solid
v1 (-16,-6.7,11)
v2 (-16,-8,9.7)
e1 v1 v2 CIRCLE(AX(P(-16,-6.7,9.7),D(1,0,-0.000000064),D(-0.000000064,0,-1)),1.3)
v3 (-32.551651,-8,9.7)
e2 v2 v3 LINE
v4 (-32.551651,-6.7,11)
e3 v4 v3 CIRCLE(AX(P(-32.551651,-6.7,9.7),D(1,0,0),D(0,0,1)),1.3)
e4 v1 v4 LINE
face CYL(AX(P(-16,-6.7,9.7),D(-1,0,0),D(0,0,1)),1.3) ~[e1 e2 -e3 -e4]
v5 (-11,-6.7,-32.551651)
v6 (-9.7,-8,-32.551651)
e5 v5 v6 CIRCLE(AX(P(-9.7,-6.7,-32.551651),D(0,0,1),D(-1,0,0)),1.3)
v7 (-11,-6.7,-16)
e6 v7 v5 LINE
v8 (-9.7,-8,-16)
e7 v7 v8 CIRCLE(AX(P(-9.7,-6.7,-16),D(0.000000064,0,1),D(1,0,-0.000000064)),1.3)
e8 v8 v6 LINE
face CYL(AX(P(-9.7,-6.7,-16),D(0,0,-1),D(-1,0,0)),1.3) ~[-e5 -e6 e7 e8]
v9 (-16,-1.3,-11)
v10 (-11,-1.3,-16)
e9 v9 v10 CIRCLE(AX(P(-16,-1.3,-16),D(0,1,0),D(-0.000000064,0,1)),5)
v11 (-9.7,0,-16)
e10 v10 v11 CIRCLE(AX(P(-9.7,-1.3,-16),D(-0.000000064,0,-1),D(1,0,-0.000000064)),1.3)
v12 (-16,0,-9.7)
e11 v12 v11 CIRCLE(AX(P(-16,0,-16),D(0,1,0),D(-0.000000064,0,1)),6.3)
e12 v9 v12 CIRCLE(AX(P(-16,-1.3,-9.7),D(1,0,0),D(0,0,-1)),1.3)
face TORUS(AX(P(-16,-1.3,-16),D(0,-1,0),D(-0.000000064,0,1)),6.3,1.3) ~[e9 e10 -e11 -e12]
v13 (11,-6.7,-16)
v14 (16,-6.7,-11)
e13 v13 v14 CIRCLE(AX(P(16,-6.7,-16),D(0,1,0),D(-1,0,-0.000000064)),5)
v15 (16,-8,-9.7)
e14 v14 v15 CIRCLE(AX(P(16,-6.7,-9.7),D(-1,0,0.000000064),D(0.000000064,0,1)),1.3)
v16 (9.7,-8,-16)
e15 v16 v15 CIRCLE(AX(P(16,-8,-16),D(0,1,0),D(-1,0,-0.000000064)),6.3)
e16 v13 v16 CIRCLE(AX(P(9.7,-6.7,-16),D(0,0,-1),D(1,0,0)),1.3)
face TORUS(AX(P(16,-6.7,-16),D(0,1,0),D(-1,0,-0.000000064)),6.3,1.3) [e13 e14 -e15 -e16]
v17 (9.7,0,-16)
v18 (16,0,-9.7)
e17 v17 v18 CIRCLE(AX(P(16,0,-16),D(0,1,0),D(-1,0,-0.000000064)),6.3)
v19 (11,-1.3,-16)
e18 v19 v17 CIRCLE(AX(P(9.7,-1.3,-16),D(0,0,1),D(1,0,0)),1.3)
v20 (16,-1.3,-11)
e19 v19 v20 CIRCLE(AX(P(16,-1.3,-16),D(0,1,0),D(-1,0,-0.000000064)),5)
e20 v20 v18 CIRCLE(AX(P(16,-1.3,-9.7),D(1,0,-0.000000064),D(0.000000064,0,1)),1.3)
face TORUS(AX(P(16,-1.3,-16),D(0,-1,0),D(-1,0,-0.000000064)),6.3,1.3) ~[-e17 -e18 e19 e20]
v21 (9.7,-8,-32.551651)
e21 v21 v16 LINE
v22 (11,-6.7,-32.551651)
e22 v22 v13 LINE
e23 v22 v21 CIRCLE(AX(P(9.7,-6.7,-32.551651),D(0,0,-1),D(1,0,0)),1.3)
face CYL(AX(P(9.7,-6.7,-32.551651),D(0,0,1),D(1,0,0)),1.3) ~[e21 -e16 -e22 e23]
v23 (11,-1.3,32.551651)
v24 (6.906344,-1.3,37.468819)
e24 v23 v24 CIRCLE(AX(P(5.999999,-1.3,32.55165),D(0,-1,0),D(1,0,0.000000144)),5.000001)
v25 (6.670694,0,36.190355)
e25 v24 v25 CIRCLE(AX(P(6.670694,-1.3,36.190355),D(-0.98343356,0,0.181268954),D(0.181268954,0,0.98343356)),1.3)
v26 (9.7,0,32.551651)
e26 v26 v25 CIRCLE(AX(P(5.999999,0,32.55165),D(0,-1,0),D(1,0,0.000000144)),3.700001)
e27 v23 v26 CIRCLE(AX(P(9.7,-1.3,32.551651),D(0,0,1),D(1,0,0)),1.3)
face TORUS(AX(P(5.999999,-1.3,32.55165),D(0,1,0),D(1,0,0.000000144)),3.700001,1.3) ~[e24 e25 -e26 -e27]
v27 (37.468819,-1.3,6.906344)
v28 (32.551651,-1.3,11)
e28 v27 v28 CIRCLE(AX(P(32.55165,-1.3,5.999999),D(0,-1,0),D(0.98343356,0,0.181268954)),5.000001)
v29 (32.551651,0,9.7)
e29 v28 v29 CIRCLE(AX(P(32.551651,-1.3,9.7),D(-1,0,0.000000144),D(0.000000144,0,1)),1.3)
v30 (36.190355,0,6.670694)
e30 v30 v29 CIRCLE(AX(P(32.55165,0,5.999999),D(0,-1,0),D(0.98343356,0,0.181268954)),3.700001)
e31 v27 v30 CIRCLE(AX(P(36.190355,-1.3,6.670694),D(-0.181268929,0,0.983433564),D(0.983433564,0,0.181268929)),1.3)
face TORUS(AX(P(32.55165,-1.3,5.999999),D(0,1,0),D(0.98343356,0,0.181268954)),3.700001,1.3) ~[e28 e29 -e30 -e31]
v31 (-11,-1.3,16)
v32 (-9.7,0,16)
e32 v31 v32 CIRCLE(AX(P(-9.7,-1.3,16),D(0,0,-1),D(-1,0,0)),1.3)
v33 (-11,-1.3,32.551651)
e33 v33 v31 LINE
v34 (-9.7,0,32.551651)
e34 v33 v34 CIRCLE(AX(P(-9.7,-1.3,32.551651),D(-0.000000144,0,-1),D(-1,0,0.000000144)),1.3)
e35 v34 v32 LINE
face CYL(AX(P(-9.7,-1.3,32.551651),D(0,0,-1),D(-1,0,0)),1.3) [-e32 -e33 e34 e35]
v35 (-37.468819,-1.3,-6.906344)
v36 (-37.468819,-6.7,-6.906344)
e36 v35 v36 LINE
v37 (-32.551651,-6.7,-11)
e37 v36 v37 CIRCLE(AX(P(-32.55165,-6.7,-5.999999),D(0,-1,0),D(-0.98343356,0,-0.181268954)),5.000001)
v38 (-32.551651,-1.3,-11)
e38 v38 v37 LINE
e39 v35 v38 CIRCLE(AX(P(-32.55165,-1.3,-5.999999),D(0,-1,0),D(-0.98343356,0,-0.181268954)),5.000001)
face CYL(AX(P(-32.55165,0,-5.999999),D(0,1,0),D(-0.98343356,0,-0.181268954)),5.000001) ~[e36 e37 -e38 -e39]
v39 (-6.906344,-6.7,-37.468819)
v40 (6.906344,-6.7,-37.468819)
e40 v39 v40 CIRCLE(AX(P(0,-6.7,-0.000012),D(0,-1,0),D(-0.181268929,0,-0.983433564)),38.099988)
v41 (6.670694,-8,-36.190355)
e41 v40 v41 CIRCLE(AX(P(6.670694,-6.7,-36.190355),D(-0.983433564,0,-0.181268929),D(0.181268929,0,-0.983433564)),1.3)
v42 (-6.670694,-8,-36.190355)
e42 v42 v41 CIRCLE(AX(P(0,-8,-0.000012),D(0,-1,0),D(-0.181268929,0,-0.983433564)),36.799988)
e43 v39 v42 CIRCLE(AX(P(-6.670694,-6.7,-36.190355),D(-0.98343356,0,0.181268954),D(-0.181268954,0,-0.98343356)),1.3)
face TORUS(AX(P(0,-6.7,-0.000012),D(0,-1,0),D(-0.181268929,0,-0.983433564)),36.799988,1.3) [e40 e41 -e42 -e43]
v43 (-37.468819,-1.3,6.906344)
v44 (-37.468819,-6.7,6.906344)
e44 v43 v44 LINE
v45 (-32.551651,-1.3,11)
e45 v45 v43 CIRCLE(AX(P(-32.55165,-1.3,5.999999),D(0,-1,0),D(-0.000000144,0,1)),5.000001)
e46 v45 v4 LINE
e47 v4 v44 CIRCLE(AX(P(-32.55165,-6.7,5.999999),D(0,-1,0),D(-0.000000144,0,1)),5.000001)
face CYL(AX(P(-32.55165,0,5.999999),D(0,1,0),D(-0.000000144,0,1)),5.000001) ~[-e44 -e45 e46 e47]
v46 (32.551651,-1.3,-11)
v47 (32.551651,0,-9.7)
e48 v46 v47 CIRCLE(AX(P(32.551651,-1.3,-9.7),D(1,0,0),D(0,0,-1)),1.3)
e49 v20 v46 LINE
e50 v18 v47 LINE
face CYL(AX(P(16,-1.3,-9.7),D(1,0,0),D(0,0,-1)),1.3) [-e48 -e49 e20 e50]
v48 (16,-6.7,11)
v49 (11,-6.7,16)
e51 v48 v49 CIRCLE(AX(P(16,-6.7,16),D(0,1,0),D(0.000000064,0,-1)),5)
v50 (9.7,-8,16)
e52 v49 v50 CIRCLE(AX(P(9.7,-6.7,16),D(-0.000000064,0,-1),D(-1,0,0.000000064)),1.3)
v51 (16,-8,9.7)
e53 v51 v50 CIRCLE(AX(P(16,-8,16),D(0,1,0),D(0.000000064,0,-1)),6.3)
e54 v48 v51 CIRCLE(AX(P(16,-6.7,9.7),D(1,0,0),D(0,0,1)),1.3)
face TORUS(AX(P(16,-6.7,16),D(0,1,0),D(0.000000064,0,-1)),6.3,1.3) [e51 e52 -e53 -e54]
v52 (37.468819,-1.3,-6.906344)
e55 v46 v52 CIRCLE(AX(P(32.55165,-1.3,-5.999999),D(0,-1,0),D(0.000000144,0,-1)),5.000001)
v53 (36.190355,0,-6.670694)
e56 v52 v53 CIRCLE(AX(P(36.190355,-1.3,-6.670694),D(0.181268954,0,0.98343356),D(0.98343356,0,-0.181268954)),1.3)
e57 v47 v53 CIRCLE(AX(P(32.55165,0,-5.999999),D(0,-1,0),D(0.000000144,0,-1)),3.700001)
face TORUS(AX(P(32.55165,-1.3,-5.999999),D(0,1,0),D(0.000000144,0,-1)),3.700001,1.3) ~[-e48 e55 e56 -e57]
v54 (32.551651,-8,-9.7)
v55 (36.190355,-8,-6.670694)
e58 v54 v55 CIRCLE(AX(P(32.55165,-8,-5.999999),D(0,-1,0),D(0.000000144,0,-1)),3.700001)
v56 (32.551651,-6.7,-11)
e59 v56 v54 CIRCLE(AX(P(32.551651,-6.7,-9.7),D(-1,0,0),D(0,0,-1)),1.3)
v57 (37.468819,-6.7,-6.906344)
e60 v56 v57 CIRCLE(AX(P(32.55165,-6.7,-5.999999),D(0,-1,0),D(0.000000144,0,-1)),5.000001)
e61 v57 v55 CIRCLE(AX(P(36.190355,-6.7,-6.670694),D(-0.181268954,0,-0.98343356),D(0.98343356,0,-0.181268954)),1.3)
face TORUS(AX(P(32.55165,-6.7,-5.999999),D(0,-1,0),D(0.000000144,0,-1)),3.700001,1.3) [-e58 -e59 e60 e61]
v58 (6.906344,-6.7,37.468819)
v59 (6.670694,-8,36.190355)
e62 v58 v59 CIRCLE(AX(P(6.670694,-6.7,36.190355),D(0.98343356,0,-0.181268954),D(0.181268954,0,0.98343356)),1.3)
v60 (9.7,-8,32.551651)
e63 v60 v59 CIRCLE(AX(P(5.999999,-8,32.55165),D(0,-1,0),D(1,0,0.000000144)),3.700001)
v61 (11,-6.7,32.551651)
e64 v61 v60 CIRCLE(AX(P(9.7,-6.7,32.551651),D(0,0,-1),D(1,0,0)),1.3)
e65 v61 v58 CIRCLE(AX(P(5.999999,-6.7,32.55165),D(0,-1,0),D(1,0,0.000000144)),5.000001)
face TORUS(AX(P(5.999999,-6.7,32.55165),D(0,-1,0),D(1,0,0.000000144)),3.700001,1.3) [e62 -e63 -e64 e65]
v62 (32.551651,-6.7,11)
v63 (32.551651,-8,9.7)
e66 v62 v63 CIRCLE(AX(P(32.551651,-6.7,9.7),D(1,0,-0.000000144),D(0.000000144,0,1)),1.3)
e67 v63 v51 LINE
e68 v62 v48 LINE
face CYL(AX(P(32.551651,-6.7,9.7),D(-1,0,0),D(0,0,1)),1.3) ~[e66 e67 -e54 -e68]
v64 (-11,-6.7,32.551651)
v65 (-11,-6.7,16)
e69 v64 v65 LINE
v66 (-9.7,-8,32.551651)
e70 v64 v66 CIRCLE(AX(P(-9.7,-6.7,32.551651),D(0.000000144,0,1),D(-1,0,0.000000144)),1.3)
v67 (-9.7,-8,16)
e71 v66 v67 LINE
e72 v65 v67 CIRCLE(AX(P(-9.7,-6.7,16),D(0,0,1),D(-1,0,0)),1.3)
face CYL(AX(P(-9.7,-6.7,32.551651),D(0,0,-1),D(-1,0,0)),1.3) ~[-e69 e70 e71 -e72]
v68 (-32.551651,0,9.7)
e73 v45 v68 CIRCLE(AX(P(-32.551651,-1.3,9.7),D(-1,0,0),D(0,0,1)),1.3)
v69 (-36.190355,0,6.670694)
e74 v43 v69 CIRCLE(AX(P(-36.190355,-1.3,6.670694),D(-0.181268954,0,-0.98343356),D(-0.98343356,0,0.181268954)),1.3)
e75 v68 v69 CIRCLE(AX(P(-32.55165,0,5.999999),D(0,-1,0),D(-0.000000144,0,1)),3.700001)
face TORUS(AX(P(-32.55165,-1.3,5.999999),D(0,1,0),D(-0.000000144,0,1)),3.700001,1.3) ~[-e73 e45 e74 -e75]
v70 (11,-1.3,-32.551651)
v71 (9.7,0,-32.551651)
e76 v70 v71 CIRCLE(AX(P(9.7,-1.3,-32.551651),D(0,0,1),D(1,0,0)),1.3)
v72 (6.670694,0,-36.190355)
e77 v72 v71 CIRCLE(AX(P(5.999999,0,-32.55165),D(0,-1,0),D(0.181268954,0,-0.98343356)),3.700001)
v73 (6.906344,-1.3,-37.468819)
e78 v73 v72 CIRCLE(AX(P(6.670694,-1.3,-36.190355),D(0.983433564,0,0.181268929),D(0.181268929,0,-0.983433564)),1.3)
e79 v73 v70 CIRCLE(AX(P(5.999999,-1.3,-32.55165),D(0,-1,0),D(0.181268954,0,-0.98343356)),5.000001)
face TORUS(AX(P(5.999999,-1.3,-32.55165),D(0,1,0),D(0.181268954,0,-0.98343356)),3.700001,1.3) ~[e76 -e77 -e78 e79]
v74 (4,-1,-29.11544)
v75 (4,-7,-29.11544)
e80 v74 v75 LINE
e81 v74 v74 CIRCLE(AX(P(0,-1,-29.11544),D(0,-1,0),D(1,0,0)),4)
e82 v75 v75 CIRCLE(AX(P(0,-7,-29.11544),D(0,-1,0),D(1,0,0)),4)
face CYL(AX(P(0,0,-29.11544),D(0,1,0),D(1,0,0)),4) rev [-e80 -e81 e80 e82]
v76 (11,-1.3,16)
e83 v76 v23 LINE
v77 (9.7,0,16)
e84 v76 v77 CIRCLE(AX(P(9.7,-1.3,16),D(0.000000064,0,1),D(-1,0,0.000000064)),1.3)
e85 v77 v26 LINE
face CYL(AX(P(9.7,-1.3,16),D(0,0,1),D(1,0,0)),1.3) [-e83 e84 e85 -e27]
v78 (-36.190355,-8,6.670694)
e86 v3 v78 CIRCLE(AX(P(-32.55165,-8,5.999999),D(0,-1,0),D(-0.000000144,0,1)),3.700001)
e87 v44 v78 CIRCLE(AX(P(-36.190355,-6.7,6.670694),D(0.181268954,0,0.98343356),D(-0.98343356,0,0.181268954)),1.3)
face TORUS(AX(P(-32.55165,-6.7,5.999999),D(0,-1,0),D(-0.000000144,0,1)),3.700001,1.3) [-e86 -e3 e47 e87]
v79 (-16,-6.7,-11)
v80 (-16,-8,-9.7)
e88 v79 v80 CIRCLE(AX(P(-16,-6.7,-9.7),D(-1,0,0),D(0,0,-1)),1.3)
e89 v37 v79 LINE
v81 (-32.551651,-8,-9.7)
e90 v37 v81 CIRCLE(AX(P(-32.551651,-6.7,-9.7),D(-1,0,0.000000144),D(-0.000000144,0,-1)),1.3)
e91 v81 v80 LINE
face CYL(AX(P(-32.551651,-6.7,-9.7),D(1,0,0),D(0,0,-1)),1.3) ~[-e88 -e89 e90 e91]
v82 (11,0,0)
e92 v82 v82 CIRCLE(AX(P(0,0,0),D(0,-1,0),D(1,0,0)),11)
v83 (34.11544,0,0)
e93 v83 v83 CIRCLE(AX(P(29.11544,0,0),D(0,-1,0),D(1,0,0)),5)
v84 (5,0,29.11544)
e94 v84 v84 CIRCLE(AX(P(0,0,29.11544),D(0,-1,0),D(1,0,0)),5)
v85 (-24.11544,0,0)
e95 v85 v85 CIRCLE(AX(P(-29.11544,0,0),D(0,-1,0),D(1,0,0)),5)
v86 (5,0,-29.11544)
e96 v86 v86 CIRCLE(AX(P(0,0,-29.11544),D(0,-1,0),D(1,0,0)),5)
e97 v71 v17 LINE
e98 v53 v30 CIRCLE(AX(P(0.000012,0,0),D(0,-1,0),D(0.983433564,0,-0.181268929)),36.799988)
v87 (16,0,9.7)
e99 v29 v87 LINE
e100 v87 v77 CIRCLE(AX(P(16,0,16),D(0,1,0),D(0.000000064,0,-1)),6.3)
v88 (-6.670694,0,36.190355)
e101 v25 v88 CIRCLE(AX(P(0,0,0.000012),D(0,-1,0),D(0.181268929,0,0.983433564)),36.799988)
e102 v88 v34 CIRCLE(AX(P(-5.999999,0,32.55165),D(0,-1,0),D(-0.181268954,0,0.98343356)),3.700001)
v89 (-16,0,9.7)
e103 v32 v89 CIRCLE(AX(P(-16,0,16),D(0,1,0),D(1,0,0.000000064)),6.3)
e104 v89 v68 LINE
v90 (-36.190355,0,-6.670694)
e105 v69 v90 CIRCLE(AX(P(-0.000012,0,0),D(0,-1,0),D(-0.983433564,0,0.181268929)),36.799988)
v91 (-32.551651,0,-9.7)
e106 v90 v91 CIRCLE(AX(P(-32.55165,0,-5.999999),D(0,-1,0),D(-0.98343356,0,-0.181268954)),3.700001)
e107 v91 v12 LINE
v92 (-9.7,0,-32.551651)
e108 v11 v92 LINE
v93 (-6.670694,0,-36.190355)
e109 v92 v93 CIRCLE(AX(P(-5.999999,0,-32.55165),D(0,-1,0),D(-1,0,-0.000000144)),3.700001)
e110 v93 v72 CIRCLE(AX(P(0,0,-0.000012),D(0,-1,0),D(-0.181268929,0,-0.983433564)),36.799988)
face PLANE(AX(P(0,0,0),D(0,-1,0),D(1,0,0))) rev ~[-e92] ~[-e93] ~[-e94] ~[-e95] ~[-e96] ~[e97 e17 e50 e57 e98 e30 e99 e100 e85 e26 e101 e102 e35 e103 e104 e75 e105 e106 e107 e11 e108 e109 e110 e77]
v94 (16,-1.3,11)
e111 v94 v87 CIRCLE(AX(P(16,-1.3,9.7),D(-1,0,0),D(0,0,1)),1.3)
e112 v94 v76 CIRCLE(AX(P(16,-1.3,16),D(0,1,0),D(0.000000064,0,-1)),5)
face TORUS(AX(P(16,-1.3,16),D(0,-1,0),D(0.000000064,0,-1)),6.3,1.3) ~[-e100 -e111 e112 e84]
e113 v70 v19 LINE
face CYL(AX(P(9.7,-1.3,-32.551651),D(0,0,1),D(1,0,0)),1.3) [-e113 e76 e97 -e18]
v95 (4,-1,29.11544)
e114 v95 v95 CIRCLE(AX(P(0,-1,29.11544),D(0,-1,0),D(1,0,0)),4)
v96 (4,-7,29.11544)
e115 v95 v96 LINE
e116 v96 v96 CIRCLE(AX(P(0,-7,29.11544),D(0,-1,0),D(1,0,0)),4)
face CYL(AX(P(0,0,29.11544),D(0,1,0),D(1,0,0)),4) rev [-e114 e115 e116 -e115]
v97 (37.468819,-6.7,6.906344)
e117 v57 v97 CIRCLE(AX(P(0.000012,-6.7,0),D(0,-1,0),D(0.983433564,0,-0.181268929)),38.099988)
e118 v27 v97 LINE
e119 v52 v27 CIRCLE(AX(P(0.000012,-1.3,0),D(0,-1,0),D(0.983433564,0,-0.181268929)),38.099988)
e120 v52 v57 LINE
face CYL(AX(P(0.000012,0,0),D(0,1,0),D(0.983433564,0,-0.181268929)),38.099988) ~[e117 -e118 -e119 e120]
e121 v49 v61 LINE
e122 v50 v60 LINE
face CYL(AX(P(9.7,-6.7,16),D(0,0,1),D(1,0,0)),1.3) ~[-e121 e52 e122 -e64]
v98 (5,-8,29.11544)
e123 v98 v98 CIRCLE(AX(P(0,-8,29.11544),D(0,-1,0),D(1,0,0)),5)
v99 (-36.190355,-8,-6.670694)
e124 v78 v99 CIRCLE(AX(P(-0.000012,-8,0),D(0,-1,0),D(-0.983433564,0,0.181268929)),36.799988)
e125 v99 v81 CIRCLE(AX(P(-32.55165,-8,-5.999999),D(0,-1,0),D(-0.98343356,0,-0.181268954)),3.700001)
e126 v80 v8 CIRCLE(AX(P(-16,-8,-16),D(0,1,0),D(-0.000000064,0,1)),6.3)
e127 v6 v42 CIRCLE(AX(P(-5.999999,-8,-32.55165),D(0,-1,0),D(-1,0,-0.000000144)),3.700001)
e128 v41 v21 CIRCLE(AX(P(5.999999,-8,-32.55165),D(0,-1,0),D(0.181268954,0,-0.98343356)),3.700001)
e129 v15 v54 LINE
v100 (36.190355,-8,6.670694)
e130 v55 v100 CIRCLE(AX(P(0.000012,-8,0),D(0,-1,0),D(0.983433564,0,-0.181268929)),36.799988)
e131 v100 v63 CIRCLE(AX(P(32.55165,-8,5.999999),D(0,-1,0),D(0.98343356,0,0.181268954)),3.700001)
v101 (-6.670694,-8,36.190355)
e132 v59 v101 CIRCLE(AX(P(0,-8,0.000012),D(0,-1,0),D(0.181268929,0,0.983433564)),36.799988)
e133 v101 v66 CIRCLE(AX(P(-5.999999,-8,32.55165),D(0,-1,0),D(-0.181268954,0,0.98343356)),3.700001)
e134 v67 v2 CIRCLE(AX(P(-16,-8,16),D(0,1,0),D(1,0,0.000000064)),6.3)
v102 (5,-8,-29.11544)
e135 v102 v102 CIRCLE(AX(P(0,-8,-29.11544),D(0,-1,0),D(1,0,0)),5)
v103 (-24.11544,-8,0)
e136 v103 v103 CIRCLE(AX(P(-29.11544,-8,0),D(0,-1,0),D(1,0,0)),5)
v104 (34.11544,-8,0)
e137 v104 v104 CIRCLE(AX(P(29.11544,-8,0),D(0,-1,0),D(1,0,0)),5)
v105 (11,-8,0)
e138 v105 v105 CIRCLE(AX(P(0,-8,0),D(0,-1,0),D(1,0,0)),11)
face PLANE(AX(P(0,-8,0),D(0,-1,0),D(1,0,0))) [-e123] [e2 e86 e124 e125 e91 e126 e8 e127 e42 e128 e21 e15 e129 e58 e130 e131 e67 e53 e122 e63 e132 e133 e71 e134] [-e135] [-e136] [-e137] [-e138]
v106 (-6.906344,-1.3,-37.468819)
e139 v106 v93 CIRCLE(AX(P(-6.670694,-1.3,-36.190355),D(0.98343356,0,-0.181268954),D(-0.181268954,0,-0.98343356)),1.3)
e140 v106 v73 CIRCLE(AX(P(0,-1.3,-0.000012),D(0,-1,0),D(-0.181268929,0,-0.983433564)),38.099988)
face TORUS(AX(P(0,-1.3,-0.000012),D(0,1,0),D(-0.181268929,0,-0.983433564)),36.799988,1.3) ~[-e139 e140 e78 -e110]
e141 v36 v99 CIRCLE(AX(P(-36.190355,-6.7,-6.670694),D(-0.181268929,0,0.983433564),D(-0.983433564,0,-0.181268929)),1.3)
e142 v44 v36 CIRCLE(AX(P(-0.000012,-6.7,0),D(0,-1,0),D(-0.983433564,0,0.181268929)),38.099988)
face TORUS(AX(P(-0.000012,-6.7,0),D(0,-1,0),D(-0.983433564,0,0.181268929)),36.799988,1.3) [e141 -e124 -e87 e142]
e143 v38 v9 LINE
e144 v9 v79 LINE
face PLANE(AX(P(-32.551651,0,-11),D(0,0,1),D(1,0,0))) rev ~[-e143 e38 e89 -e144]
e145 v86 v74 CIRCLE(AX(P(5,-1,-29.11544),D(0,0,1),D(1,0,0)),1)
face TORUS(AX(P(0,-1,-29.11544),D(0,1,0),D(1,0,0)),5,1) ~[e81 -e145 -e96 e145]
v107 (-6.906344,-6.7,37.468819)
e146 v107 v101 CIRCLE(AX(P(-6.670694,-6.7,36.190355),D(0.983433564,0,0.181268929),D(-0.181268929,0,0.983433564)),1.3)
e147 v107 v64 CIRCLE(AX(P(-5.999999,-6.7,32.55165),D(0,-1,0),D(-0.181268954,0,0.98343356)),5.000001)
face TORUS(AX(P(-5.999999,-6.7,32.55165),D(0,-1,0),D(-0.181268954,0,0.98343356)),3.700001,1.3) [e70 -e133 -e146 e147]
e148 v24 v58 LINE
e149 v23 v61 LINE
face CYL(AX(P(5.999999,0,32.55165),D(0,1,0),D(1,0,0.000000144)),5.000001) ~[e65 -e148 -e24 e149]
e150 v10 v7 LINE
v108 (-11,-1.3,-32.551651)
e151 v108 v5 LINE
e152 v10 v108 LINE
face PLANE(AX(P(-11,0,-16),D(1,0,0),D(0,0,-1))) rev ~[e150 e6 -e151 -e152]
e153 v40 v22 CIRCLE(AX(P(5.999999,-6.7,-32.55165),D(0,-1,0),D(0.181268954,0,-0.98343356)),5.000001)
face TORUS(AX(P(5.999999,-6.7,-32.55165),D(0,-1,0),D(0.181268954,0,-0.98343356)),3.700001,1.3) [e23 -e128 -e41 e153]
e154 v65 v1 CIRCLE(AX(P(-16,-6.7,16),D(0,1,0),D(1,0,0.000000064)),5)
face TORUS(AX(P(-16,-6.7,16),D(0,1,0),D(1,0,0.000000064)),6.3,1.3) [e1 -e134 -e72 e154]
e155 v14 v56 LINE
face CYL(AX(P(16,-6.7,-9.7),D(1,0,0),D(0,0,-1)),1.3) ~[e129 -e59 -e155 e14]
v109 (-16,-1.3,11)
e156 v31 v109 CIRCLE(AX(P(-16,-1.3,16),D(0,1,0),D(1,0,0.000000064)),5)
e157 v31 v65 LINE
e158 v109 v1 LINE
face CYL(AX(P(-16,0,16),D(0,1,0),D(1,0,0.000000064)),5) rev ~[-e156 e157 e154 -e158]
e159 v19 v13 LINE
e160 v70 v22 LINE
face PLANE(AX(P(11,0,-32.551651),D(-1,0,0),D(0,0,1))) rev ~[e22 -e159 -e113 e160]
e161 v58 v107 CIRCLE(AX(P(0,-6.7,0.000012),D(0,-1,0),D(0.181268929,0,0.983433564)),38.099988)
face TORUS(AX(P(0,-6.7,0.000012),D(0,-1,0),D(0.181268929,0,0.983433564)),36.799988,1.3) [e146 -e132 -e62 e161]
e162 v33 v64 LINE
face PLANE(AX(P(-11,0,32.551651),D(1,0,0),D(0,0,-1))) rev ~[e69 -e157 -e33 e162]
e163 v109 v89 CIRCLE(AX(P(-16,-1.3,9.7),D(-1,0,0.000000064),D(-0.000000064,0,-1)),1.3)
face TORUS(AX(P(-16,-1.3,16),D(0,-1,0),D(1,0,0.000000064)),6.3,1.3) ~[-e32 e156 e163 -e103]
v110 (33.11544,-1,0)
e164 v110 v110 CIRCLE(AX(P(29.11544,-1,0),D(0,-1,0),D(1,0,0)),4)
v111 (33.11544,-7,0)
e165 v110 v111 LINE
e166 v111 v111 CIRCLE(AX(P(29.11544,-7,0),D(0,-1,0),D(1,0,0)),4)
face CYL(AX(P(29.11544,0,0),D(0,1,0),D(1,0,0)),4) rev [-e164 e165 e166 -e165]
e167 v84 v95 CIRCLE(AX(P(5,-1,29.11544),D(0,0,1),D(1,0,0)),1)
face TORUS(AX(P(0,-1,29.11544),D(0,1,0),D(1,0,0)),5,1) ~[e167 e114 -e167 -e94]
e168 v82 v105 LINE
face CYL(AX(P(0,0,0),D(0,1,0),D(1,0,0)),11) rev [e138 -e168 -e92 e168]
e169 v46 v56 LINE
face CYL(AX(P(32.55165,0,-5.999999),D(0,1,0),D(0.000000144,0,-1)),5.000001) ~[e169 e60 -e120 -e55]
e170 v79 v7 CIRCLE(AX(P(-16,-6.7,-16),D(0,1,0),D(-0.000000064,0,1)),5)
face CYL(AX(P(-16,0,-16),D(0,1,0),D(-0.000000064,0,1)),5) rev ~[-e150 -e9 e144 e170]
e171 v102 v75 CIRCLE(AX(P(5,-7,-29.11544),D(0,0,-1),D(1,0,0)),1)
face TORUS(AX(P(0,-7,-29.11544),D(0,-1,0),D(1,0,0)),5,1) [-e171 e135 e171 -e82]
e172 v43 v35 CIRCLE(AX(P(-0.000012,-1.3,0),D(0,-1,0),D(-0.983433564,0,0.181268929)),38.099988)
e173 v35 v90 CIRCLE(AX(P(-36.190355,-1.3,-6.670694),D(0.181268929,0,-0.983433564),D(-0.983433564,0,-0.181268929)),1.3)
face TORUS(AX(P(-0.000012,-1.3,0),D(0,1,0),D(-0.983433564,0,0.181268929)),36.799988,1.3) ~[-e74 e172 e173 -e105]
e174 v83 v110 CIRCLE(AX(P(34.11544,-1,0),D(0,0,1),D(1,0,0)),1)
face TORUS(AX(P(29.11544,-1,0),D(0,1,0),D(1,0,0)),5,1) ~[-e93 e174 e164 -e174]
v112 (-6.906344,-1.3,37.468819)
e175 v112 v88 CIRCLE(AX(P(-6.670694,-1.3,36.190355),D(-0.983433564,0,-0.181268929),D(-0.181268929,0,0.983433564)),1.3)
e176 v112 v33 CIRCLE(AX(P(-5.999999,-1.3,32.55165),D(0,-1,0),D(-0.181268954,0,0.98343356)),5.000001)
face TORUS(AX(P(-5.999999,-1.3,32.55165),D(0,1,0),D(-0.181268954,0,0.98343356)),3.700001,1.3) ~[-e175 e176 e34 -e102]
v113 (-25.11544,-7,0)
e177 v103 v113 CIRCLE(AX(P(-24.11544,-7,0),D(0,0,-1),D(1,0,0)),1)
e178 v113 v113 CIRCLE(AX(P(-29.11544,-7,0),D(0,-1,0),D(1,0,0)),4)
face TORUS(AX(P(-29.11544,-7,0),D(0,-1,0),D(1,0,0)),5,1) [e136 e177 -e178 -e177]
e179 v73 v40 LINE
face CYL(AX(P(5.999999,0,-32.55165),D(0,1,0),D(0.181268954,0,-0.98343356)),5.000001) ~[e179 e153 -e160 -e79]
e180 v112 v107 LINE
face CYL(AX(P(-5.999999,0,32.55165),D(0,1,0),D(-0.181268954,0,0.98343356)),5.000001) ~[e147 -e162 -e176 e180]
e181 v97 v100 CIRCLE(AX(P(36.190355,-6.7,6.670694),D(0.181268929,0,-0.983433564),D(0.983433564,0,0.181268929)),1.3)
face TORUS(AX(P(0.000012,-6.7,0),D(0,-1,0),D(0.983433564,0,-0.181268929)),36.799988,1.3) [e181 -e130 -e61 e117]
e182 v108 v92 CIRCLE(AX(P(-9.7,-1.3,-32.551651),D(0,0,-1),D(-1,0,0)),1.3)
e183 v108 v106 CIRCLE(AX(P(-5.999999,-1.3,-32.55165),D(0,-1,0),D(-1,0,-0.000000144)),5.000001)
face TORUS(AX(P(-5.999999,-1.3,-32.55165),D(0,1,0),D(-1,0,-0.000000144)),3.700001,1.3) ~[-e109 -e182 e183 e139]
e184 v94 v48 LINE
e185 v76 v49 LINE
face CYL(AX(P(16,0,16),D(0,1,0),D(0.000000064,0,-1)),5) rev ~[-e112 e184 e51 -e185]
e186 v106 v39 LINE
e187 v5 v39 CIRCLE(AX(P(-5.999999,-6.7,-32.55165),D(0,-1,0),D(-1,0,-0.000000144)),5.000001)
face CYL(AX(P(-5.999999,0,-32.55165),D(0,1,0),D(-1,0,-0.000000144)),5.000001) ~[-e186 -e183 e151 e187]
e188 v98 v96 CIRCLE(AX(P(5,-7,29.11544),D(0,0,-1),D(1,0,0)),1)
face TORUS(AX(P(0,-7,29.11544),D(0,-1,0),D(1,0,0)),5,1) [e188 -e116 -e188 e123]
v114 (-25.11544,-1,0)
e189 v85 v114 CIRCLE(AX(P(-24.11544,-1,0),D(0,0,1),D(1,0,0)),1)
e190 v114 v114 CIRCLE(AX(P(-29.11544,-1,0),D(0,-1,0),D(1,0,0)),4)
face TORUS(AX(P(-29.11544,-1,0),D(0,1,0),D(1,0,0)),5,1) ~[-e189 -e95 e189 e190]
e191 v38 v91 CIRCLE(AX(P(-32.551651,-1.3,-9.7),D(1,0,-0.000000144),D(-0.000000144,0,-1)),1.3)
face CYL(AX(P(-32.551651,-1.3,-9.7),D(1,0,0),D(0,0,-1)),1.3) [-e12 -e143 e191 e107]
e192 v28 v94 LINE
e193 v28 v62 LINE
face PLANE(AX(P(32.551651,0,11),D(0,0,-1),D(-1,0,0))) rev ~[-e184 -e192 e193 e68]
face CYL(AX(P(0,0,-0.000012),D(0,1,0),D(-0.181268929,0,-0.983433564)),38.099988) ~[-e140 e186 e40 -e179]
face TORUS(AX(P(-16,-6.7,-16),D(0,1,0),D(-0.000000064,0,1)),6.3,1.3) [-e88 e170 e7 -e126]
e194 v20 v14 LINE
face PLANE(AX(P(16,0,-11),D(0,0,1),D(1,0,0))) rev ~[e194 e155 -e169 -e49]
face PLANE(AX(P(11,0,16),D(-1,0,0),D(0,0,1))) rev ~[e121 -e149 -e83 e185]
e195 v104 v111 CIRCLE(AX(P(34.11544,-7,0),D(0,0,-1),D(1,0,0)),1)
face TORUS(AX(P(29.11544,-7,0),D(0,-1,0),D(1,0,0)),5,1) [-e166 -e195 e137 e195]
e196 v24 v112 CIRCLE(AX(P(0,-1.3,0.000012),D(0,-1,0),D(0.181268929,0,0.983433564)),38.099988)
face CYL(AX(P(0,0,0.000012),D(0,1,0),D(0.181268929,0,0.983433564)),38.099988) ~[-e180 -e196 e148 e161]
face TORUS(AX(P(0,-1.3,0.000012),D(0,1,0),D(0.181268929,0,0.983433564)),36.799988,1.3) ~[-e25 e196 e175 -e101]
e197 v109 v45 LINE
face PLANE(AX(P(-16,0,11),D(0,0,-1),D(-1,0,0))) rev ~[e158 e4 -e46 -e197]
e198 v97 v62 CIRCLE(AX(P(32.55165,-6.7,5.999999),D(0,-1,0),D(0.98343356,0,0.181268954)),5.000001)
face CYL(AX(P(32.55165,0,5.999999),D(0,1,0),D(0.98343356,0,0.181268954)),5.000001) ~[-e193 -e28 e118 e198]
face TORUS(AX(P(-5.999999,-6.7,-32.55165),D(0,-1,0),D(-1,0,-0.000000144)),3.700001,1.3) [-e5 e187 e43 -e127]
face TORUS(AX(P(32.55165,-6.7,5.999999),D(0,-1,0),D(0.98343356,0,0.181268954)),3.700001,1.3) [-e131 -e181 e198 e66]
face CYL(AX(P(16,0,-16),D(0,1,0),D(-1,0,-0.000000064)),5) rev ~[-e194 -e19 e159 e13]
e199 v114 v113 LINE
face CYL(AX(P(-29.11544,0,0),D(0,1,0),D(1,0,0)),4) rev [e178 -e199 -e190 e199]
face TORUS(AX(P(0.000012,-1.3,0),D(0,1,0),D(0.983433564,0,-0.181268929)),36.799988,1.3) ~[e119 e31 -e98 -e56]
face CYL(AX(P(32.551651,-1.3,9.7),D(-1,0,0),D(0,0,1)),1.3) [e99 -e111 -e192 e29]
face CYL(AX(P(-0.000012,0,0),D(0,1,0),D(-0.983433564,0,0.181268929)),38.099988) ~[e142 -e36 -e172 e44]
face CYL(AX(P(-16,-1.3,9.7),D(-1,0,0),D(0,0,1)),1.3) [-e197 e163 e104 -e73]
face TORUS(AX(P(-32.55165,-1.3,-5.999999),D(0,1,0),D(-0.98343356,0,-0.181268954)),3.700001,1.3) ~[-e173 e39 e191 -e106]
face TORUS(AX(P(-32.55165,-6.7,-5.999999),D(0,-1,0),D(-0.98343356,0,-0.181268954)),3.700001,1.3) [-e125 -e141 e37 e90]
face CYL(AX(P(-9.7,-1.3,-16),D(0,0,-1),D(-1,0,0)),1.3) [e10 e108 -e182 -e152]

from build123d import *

# Parameters (mm, degrees)
F0_R     = 4
F0_R_2   = 11
F1_DEPTH = 8
F2_R     = 1.3
F3_R     = 1


with BuildPart() as f1:
    # F0 (on Front) → F1 (new body)
    with BuildSketch(Plane.XZ):
        with BuildLine():
            ThreePointArc((-32.551651, 11), (-35.750735, 9.842637), (-37.468819, 6.906344))
            ThreePointArc((-37.468819, 6.906344), (-38.1, 0), (-37.468819, -6.906344))
            ThreePointArc((-37.468819, -6.906344), (-35.750735, -9.842637), (-32.551651, -11))
            Line((-32.551651, -11), (-16, -11))
            ThreePointArc((-16, -11), (-12.464466, -12.464466), (-11, -16))
            Line((-11, -16), (-11, -32.551651))
            ThreePointArc((-11, -32.551651), (-9.842637, -35.750735), (-6.906344, -37.468819))
            ThreePointArc((-6.906344, -37.468819), (0, -38.1), (6.906344, -37.468819))
            ThreePointArc((6.906344, -37.468819), (9.842637, -35.750735), (11, -32.551651))
            Line((11, -32.551651), (11, -16))
            ThreePointArc((11, -16), (12.464466, -12.464466), (16, -11))
            Line((16, -11), (32.551651, -11))
            ThreePointArc((32.551651, -11), (35.750735, -9.842637), (37.468819, -6.906344))
            ThreePointArc((37.468819, -6.906344), (38.1, 0), (37.468819, 6.906344))
            ThreePointArc((37.468819, 6.906344), (35.750735, 9.842637), (32.551651, 11))
            Line((32.551651, 11), (16, 11))
            ThreePointArc((16, 11), (12.464466, 12.464466), (11, 16))
            Line((11, 16), (11, 32.551651))
            ThreePointArc((11, 32.551651), (9.842637, 35.750735), (6.906344, 37.468819))
            ThreePointArc((6.906344, 37.468819), (0, 38.1), (-6.906344, 37.468819))
            ThreePointArc((-6.906344, 37.468819), (-9.842637, 35.750735), (-11, 32.551651))
            Line((-11, 32.551651), (-11, 16))
            ThreePointArc((-11, 16), (-12.464466, 12.464466), (-16, 11))
            Line((-16, 11), (-32.551651, 11))
        make_face()
        with Locations((0, -29.11544)):
            Circle(F0_R, mode=Mode.SUBTRACT)
        with Locations((-29.11544, 0)):
            Circle(F0_R, mode=Mode.SUBTRACT)
        Circle(F0_R_2, mode=Mode.SUBTRACT)
        with Locations((29.11544, 0)):
            Circle(F0_R, mode=Mode.SUBTRACT)
        with Locations((0, 29.11544)):
            Circle(F0_R, mode=Mode.SUBTRACT)
    extrude(amount=F1_DEPTH)

    # F2
    f2_edges = [f1.edges().sort_by_distance(p)[0] for p in [
        (11, -8, -24.275826),
        (12.464466, -8, -12.464466),
        (11, 0, -24.275826),
    ]]
    fillet(f2_edges, radius=F2_R)

    # F3
    f3_edges = [f1.edges().sort_by_distance(p)[0] for p in [
        (-4, -8, 29.11544),
        (-33.11544, -8, 0),
        (-4, -8, -29.11544),
        (25.11544, -8, 0),
        (-4, 0, -29.11544),
        (25.11544, 0, 0),
        (-4, 0, 29.11544),
        (-33.11544, 0, 0),
    ]]
    fillet(f3_edges, radius=F3_R)


solid = f1.part
